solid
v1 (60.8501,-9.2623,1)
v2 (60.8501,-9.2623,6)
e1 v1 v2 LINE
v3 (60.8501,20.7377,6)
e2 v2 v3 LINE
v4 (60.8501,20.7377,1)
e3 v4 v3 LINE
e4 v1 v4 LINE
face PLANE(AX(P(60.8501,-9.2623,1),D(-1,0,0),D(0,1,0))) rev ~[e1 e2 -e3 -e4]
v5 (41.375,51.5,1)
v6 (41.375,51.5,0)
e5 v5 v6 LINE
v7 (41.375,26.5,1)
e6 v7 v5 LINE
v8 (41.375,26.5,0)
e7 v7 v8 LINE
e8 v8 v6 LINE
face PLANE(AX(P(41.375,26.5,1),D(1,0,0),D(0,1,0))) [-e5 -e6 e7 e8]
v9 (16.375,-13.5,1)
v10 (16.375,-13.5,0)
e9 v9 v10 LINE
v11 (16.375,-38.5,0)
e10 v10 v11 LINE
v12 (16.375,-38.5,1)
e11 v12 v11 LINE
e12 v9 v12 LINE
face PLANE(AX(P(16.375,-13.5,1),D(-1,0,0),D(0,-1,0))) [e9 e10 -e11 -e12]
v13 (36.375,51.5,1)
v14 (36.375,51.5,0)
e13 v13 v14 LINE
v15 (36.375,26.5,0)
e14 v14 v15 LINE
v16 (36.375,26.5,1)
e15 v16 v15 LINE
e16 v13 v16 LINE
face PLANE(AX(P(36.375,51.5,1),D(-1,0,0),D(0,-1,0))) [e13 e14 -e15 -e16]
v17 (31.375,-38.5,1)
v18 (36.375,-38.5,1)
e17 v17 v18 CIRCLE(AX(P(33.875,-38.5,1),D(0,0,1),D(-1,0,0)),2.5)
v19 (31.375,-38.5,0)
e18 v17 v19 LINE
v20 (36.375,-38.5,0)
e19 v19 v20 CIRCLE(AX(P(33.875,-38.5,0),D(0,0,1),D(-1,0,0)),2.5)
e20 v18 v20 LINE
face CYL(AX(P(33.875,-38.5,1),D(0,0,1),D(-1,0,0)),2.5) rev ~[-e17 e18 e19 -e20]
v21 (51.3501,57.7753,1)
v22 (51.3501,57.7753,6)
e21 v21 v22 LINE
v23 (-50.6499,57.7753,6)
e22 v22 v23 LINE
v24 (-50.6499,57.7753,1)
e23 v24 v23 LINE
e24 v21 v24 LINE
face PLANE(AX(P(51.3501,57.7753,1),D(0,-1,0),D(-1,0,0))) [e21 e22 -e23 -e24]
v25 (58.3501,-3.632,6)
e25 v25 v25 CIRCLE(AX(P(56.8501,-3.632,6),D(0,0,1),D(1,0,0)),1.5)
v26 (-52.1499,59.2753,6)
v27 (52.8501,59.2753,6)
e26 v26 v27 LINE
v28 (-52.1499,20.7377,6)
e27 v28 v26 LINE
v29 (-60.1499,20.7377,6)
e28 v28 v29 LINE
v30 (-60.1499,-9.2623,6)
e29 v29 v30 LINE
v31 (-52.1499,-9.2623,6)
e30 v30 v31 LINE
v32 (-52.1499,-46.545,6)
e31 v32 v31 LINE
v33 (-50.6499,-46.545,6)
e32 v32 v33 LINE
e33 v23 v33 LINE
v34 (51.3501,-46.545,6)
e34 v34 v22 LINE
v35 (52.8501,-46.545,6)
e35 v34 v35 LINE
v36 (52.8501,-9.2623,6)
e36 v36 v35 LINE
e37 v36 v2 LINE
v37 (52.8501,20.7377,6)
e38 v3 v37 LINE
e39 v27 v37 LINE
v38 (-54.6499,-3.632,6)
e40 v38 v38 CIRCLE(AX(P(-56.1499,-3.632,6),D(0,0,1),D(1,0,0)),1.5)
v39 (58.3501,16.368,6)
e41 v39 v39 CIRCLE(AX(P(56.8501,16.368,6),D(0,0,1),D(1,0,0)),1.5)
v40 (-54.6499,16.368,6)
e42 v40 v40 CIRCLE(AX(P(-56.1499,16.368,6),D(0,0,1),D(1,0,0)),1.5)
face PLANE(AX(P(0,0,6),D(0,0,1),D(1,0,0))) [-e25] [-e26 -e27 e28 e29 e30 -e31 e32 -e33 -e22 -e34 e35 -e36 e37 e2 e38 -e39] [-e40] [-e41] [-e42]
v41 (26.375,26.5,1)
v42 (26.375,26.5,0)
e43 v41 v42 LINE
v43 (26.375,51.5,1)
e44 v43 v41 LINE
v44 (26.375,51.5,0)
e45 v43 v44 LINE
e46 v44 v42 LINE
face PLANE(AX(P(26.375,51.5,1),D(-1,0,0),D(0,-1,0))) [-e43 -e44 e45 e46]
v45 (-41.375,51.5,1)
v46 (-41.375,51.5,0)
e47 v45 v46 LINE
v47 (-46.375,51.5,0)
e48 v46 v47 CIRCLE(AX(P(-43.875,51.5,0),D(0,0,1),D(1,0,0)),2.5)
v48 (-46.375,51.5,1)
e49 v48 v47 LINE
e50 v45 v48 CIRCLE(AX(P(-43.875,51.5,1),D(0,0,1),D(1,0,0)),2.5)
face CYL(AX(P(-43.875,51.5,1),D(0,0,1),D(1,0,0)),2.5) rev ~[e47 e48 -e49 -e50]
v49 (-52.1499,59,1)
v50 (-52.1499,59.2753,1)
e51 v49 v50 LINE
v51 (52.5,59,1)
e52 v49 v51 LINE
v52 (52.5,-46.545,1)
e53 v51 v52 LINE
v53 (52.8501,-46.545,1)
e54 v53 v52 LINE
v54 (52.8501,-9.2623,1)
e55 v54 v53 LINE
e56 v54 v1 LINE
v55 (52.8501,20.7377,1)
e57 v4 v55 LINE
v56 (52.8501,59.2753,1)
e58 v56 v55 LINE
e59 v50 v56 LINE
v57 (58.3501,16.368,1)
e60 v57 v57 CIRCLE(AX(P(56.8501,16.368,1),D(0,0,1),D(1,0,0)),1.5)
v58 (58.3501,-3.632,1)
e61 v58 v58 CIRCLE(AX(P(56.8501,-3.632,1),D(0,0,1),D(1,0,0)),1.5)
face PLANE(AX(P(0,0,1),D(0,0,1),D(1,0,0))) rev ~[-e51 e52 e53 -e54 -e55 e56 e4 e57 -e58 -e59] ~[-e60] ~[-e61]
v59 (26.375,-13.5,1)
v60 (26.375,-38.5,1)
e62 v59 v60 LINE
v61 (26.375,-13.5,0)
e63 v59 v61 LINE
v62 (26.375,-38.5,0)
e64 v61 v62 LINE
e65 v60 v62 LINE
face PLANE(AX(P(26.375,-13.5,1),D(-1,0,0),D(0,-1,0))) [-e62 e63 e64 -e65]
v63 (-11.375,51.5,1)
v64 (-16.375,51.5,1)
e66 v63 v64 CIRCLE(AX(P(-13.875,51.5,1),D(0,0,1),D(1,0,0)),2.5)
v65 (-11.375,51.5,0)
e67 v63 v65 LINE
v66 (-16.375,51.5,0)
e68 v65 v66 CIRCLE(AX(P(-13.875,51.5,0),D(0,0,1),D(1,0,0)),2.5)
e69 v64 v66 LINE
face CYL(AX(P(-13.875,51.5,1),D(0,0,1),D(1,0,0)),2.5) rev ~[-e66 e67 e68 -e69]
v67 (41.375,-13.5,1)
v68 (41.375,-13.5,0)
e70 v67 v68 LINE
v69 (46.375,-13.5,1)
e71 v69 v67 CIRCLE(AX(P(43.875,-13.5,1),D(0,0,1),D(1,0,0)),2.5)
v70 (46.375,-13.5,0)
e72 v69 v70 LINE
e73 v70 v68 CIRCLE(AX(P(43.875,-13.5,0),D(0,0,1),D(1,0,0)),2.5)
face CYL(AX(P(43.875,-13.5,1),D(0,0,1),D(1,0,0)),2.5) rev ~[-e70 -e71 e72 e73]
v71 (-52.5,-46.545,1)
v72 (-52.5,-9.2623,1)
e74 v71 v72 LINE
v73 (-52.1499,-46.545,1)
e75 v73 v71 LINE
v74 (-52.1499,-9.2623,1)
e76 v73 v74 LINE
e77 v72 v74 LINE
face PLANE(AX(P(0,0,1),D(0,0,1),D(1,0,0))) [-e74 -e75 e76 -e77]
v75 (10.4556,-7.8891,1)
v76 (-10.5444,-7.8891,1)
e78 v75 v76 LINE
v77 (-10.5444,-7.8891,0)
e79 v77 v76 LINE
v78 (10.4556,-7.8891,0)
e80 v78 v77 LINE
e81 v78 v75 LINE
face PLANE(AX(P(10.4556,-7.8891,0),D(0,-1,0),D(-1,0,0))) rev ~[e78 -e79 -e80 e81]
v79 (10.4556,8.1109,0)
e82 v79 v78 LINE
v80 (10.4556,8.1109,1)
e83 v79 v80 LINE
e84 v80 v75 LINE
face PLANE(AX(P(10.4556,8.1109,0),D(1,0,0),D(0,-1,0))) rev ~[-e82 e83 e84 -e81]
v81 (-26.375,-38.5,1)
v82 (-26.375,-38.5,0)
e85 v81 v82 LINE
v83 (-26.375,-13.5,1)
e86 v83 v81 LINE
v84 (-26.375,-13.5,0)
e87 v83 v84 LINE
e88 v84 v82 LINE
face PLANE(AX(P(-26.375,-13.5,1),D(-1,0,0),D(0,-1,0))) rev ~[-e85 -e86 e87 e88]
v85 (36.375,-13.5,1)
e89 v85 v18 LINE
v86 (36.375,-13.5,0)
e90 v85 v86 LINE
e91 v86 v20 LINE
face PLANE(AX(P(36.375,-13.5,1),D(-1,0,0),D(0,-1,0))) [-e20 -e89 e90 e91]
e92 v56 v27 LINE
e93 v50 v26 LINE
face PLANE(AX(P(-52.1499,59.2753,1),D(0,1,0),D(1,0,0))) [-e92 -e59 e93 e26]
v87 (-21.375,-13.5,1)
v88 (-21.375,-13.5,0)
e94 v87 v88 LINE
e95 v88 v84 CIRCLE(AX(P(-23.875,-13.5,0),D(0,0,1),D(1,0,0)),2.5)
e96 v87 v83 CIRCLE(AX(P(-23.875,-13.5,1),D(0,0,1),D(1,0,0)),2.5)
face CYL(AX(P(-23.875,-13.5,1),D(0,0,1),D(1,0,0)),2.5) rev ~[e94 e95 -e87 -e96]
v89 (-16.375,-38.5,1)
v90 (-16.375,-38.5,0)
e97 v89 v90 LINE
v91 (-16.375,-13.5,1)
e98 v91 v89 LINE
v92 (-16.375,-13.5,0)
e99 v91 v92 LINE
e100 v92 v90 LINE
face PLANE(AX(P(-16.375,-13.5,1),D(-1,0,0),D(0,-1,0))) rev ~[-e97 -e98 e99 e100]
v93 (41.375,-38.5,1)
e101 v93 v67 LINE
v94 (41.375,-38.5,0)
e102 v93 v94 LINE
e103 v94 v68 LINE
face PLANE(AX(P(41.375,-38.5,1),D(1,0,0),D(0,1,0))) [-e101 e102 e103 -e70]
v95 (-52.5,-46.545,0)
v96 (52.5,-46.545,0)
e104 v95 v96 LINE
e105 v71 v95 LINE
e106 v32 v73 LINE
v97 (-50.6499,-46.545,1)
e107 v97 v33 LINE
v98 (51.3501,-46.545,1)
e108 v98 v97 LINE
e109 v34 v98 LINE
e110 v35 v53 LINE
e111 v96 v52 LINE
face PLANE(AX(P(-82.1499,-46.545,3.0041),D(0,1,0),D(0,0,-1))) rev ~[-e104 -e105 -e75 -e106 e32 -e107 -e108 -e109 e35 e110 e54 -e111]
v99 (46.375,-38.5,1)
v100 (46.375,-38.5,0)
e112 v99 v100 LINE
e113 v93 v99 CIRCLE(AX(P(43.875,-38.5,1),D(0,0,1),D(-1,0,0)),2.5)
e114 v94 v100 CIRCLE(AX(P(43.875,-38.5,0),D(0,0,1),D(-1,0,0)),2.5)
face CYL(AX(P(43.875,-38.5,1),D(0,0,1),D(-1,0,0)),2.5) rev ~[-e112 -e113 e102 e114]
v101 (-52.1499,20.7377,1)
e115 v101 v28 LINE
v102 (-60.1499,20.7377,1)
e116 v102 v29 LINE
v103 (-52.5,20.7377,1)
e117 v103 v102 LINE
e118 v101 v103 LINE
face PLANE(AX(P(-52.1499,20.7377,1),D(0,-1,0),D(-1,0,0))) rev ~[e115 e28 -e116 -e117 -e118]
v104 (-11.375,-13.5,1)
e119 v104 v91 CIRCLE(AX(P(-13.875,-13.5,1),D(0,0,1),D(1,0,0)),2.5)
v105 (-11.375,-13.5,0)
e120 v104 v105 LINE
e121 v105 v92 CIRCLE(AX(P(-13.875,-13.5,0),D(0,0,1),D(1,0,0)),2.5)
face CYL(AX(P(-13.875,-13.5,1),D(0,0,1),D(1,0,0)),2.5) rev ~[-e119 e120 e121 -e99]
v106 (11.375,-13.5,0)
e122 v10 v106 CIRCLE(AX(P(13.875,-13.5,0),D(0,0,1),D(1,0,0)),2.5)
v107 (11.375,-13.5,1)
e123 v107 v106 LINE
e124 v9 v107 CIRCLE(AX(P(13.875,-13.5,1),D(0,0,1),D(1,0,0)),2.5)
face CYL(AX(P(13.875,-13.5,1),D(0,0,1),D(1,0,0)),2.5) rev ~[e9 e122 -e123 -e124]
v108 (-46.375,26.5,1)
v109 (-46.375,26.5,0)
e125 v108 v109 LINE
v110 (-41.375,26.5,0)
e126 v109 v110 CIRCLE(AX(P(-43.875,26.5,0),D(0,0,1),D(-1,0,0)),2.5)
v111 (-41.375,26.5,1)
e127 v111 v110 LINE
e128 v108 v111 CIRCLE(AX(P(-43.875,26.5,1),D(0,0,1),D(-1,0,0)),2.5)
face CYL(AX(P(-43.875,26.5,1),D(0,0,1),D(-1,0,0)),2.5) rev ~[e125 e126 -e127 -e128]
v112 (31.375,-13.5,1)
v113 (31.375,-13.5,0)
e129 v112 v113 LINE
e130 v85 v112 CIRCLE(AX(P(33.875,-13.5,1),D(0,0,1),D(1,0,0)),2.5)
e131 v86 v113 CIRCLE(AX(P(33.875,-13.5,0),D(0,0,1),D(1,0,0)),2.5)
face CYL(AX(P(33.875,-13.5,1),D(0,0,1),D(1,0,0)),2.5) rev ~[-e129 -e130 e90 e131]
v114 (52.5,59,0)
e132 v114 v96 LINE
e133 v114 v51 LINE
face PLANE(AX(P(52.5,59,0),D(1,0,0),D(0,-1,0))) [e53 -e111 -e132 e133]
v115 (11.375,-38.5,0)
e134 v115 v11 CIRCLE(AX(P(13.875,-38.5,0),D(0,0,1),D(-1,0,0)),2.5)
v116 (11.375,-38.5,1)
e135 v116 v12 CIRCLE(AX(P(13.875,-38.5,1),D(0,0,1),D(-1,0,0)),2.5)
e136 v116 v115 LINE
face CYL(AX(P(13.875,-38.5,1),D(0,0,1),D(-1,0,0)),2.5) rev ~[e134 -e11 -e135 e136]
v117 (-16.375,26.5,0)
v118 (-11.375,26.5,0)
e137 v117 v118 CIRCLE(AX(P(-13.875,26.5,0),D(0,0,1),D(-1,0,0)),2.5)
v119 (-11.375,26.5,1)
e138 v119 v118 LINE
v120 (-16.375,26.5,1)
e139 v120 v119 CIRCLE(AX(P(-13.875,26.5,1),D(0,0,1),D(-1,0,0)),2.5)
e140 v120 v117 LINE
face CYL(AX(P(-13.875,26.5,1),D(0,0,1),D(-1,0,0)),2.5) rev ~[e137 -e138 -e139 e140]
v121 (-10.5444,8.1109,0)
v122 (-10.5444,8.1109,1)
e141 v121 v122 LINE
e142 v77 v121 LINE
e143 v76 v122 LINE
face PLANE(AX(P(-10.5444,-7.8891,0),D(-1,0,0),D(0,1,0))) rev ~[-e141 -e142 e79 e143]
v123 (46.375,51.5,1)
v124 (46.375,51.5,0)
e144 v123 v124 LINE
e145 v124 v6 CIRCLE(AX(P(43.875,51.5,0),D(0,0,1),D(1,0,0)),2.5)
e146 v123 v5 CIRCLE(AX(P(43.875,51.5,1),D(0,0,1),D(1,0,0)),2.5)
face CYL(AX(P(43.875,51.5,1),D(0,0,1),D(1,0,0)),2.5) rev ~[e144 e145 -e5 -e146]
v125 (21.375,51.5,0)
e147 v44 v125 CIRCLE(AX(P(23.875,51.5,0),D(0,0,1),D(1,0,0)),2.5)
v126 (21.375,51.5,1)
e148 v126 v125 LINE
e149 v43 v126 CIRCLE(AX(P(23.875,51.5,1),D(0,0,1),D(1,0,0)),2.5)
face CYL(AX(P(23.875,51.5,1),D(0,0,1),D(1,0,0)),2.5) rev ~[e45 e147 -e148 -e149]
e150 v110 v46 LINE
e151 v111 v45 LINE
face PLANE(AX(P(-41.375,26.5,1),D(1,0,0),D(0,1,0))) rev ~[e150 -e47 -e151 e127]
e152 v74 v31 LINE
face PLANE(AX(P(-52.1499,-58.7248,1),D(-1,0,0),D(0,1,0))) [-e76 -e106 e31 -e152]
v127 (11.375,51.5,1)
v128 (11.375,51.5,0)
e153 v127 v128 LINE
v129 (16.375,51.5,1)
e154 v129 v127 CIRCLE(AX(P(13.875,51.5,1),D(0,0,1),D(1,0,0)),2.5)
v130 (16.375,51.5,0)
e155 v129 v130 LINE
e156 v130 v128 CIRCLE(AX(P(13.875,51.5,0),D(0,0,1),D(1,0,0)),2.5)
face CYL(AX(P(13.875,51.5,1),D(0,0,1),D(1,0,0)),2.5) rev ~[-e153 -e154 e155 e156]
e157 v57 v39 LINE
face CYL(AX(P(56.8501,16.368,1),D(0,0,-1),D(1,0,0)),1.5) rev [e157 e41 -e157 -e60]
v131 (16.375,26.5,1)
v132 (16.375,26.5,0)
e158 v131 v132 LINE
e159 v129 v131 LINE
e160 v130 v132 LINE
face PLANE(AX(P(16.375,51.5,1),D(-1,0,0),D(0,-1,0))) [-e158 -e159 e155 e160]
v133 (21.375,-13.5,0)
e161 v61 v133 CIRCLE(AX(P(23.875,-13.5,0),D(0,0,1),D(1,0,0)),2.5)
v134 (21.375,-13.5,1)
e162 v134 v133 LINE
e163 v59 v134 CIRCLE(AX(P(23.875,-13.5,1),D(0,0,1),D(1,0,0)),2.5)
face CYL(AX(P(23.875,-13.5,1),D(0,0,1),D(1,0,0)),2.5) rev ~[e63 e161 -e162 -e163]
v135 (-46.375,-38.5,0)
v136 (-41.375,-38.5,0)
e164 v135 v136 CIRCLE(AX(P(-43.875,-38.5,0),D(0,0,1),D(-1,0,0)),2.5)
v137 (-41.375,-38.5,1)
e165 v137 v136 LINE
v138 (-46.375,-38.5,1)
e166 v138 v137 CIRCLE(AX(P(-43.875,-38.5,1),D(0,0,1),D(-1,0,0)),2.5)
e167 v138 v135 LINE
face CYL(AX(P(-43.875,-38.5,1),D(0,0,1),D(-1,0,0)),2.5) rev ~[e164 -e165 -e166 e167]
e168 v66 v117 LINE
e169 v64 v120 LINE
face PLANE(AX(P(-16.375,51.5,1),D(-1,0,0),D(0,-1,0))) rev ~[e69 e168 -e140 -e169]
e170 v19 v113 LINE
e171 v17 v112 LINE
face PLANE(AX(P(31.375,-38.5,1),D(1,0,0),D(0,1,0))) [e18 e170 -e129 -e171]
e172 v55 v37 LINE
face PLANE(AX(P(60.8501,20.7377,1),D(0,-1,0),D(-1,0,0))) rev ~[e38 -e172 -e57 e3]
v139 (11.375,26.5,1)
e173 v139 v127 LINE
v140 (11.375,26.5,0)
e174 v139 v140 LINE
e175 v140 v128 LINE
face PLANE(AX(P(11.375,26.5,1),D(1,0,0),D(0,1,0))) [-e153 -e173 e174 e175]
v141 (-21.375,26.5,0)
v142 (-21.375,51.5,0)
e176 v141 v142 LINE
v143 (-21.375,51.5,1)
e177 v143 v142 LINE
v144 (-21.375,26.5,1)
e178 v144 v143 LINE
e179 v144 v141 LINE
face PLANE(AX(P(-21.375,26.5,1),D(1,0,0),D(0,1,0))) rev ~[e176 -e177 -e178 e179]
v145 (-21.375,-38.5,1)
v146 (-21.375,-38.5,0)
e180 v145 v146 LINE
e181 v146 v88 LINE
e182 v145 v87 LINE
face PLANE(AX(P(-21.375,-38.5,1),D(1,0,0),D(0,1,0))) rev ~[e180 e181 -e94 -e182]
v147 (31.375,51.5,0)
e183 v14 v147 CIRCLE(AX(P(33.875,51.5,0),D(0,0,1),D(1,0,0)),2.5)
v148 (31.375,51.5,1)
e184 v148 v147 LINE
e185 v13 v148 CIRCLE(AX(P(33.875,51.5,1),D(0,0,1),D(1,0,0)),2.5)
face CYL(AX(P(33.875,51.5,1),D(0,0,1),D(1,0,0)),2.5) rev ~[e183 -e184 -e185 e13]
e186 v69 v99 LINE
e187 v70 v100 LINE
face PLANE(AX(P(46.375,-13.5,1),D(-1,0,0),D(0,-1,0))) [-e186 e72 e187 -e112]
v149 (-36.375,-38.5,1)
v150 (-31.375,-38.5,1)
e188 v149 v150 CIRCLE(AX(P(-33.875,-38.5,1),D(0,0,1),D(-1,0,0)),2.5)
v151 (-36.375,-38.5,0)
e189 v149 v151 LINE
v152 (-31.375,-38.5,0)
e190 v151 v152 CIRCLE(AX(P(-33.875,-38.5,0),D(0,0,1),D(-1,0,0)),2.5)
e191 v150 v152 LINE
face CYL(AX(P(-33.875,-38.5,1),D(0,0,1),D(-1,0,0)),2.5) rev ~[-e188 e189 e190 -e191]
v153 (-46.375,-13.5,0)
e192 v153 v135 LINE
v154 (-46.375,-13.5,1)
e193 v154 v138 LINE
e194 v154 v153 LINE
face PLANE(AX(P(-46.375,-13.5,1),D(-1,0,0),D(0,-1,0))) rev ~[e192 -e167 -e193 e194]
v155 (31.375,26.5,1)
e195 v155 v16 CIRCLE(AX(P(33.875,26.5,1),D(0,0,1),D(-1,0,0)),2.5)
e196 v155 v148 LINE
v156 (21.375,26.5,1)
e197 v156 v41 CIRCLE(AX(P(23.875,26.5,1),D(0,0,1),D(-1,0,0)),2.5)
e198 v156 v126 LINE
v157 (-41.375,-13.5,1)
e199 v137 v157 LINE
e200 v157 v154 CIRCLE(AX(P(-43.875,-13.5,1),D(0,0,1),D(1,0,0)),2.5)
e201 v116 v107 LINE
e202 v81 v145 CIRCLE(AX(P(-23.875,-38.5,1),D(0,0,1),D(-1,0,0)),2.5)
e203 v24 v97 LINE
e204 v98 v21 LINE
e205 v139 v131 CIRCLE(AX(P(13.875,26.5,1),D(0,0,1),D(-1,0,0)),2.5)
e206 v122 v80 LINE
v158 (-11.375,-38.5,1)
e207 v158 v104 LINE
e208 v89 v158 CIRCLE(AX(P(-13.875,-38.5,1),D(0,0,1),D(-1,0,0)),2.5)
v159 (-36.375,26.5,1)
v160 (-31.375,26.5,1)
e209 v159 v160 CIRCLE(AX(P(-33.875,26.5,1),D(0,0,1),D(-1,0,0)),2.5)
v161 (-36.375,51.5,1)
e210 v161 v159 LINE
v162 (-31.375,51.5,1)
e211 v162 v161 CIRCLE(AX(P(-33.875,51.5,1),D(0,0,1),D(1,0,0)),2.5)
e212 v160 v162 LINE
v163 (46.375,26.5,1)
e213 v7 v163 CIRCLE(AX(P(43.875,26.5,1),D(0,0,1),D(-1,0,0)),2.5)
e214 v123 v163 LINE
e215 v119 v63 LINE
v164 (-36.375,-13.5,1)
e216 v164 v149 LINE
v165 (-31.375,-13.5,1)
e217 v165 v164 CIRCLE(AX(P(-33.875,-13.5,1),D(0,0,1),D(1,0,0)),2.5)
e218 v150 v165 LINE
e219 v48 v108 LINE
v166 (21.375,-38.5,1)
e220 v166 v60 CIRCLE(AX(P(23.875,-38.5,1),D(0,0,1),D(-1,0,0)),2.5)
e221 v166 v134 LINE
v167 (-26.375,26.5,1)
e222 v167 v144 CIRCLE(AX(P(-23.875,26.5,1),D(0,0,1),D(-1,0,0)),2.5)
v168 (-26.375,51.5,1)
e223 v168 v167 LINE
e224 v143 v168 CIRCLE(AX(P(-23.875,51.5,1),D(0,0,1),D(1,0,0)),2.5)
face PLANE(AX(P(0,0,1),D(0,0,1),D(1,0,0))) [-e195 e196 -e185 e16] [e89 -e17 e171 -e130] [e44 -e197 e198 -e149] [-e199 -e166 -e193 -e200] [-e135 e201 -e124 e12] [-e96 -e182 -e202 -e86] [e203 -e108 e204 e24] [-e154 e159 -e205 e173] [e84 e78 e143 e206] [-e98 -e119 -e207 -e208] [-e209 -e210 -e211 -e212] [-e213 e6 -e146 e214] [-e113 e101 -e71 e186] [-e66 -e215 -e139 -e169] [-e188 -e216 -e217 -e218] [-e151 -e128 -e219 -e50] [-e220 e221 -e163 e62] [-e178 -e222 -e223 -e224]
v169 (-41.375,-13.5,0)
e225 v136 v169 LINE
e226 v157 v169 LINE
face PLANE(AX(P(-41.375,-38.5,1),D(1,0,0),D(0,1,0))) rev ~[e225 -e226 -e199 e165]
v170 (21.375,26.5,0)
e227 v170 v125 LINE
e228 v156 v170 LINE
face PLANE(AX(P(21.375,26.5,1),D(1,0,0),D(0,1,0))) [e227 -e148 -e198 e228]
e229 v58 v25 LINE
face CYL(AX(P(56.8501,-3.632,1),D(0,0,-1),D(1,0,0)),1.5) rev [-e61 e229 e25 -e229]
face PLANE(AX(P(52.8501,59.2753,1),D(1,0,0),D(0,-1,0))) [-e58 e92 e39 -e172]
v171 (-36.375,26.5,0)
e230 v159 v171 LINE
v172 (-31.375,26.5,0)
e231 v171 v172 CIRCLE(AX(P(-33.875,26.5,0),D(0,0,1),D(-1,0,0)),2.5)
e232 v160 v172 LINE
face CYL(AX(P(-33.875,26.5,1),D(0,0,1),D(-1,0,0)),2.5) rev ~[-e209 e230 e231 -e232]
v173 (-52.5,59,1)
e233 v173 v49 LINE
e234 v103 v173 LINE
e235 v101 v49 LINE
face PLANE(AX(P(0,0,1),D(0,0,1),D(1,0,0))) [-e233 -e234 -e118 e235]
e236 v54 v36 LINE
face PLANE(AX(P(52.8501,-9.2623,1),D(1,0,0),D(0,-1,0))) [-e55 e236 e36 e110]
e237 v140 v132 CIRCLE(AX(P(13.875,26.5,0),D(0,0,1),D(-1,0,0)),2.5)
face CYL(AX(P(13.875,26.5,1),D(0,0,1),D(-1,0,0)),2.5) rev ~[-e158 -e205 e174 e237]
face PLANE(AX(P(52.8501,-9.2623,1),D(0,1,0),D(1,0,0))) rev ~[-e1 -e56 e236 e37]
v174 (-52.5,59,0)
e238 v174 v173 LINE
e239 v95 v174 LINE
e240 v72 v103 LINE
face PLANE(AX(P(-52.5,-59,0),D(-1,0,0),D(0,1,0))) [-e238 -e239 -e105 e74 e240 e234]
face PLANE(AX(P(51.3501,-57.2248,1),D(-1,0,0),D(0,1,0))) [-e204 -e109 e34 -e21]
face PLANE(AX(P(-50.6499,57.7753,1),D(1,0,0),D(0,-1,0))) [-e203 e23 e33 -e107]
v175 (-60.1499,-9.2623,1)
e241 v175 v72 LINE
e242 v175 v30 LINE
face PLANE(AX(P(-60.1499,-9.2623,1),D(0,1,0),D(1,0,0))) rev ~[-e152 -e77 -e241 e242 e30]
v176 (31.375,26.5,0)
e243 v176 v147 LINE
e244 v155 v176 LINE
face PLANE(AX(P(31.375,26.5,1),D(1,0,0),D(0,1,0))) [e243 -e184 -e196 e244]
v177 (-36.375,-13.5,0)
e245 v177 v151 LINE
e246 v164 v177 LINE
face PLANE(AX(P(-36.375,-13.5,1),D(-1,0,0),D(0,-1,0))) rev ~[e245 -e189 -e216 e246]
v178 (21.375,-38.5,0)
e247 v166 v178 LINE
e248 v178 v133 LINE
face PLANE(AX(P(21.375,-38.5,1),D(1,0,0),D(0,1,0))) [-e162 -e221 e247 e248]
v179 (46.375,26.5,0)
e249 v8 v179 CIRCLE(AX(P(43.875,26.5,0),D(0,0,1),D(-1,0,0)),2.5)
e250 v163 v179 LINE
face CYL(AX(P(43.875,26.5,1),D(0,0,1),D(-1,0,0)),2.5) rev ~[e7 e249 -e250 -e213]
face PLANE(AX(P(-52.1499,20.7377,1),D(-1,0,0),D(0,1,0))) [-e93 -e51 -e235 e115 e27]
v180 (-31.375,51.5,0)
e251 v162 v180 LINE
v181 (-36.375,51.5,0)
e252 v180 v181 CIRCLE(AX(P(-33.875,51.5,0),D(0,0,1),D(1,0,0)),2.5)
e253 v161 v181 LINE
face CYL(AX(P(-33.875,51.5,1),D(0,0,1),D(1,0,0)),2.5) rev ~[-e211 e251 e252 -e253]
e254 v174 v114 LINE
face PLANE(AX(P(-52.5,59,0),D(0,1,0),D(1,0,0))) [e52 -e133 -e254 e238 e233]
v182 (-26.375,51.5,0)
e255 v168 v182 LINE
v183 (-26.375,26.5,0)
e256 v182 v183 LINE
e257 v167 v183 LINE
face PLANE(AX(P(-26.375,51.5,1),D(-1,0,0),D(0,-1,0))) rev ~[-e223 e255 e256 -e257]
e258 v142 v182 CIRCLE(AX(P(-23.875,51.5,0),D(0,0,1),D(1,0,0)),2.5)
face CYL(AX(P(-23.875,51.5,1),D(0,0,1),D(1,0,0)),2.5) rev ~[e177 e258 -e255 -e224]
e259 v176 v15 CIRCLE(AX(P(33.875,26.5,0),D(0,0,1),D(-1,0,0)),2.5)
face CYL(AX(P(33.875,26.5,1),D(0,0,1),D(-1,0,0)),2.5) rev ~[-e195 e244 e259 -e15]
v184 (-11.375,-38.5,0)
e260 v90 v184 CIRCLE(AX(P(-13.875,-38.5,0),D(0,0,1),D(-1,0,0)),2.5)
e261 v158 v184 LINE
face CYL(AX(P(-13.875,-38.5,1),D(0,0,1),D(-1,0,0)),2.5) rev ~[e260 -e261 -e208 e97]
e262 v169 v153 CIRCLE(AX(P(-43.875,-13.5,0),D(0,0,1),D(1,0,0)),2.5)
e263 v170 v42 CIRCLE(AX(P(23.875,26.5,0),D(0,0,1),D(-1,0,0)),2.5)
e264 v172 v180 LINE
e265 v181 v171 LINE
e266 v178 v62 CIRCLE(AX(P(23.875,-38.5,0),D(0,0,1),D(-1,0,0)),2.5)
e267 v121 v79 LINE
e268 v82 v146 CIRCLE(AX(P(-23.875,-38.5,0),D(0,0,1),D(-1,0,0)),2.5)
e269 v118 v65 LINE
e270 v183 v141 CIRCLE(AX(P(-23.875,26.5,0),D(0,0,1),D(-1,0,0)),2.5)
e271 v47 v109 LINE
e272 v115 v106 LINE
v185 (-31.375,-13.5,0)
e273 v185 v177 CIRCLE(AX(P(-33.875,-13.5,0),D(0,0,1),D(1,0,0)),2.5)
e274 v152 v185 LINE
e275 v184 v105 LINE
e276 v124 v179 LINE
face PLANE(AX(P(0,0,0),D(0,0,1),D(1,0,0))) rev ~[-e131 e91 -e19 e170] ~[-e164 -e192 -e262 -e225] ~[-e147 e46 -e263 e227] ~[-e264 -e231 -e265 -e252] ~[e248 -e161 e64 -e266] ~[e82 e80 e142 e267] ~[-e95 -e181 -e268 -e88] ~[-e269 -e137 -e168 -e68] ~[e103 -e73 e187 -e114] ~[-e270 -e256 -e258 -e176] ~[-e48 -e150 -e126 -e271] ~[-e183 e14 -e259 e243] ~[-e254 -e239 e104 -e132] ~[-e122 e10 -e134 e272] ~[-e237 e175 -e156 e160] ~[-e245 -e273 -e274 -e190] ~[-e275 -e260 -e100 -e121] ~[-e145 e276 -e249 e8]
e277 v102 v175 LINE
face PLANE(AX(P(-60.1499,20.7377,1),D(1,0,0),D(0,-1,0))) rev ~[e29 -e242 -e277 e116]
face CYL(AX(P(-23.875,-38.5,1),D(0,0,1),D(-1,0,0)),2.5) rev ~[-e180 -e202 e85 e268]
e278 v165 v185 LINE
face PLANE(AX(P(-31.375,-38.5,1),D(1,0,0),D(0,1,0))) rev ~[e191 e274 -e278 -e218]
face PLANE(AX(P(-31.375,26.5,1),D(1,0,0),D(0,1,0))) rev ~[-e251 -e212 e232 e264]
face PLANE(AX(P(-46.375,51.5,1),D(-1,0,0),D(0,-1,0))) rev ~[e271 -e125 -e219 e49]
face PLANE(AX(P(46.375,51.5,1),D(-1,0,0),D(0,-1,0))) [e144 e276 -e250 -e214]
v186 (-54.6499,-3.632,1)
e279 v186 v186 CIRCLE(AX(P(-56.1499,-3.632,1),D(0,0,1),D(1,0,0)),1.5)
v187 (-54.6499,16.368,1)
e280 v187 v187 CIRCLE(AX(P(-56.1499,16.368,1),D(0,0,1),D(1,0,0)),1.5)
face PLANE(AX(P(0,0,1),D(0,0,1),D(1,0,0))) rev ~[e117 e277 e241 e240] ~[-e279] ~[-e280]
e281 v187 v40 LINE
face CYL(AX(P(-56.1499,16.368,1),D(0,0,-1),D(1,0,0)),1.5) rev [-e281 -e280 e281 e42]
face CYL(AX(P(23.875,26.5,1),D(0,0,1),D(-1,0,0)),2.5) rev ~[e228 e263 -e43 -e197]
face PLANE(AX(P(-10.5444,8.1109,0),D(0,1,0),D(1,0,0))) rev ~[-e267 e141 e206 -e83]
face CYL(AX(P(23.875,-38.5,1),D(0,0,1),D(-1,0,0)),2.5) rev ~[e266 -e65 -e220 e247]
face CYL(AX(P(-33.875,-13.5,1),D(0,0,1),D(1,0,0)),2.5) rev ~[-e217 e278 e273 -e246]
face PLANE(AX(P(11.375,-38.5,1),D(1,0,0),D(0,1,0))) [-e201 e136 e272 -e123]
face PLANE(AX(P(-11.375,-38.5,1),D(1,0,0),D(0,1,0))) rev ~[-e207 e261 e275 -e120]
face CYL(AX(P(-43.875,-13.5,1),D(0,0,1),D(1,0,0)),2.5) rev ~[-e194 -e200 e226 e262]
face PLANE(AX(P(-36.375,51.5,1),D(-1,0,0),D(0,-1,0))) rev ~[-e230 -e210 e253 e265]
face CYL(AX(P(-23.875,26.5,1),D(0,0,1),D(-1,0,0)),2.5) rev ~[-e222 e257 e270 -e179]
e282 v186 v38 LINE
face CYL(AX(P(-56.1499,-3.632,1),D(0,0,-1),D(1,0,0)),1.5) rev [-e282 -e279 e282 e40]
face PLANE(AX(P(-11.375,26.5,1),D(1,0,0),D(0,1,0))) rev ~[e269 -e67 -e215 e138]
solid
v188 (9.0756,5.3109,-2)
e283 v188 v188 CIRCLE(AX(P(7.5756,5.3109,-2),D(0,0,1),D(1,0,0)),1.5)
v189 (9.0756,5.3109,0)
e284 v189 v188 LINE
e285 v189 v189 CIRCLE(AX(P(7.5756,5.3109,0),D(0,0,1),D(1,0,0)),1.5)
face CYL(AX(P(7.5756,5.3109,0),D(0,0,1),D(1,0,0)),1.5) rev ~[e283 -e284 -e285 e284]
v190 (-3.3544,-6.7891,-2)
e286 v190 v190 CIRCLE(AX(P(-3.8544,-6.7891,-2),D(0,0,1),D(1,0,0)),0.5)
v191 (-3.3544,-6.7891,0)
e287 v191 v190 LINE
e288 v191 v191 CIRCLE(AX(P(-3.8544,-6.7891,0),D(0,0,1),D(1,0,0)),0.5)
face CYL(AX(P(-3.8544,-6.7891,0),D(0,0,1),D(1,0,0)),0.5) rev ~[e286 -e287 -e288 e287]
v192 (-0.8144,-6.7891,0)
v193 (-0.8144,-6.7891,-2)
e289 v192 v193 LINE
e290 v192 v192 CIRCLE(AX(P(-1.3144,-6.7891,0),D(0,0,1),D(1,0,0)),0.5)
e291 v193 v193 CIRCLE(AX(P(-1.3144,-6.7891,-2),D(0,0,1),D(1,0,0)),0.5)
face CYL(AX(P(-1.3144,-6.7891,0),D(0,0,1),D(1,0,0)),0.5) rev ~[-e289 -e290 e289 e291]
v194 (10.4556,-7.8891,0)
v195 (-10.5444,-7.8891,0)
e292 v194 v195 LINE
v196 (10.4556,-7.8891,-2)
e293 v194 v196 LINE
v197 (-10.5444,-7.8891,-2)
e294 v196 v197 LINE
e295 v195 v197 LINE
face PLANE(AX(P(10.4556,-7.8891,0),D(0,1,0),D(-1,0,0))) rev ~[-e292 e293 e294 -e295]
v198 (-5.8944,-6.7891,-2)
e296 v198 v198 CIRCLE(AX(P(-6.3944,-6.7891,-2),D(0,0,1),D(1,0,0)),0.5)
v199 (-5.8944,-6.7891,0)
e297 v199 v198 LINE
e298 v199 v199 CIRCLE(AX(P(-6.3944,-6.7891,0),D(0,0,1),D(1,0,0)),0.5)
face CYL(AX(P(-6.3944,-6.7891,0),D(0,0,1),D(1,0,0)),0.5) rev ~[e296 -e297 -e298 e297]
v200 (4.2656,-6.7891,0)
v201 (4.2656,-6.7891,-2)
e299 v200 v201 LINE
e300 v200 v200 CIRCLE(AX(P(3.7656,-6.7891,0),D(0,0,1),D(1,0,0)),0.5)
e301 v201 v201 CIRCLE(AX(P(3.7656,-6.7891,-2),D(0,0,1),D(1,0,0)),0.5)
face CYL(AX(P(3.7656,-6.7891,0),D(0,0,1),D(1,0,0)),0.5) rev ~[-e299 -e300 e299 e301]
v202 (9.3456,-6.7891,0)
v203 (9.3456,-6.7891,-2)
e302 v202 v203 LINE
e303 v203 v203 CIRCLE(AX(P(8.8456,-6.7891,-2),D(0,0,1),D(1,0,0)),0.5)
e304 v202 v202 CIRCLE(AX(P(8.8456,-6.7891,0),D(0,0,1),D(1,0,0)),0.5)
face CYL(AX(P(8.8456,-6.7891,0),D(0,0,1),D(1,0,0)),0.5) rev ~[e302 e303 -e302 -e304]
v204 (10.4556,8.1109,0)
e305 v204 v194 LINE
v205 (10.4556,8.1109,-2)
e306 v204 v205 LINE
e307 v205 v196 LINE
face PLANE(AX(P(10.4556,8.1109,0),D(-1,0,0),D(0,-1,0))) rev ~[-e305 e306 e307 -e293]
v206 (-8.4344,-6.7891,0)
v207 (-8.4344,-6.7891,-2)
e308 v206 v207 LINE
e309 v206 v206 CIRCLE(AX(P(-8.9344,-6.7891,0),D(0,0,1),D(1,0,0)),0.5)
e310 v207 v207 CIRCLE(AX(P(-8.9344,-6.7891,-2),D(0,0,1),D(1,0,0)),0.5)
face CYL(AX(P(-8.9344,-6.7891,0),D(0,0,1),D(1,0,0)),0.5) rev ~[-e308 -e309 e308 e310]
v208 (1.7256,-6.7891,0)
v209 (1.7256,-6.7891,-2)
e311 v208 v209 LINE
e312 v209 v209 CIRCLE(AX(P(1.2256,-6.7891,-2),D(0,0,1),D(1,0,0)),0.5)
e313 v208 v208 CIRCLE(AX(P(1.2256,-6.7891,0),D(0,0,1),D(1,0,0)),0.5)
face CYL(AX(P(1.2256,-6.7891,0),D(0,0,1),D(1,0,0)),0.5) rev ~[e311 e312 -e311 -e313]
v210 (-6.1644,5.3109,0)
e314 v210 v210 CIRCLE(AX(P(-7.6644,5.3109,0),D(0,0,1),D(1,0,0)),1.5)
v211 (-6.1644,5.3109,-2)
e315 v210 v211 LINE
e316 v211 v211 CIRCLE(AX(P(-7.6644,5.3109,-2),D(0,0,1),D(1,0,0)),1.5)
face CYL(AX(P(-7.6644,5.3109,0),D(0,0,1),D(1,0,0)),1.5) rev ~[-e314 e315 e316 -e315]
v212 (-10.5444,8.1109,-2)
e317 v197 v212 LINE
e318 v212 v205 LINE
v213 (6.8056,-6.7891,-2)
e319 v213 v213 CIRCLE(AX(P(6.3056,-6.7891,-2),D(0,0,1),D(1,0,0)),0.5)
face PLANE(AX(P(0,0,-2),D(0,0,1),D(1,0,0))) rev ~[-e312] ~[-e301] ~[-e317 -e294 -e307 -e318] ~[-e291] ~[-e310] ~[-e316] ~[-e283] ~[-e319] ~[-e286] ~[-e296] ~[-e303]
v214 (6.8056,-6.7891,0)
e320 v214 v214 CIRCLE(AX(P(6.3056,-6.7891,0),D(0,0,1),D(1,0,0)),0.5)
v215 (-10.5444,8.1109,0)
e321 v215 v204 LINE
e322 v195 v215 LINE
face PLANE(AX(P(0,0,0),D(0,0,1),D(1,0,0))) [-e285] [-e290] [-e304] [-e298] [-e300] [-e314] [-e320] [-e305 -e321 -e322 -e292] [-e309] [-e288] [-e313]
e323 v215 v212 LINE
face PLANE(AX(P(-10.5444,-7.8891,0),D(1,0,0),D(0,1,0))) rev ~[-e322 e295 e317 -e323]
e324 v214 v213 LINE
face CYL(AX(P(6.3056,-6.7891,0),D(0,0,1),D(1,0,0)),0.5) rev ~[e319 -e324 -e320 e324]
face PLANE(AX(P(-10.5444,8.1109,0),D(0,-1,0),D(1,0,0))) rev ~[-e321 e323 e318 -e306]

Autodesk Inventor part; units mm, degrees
ref_plane "YZ Plane" through (0, 0, 0) normal (1, 0, 0) x (0, 1, 0)
ref_plane "XZ Plane" through (0, 0, 0) normal (0, 1, 0) x (-1, 0, 0)
sketch "Sketch1" plane through (0, 0, 0) normal (0, 0, 1) x (1, 0, 0)
  line L0 (10.4556, 8.1109) -> (10.4556, -7.8891)
  line L1 (-10.5444, 8.1109) -> (10.4556, 8.1109)
  line L2 (-10.5444, -7.8891) -> (-10.5444, 8.1109)
  line L3 (10.4556, -7.8891) -> (-10.5444, -7.8891)
  circle A0 centre (-7.6644, 5.3109) radius 1.5
  circle A1 centre (7.5756, 5.3109) radius 1.5
  circle A2 centre (-8.9344, -6.7891) radius 0.5
  circle A3 centre (-6.3944, -6.7891) radius 0.5
  circle A4 centre (-3.8544, -6.7891) radius 0.5
  circle A5 centre (-1.3144, -6.7891) radius 0.5
  circle A6 centre (1.2256, -6.7891) radius 0.5
  circle A7 centre (3.7656, -6.7891) radius 0.5
  circle A8 centre (6.3056, -6.7891) radius 0.5
  circle A9 centre (8.8456, -6.7891) radius 0.5
  line L4 (12.4556, -9.8891) -> (12.4556, 10.1109)
  line L5 (12.4556, 10.1109) -> (-12.5444, 10.1109)
  line L6 (-12.5444, 10.1109) -> (-12.5444, -9.8891)
  line L7 (-12.5444, -9.8891) -> (12.4556, -9.8891)
  circle A10 centre (7.5756, 5.3109) radius 1.5
  circle A11 centre (-7.6644, 5.3109) radius 1.5
  point P0 (0, 0)
  point P1 (-0.0444, 0.1109)
  dimension "d0" = 2
  dimension "d1" = 15.24
extrude "Extrusion1" add sketch "Sketch1" against normal blind 2 contours L0 L3 L2 L1
extrude "Extrusion2" add sketch "Sketch1" along normal blind 1 contours L7 L6 L5 L4
sketch "Sketch2" plane through (0, 0, 0) normal (0, 0, 1) x (1, 0, 0)
  line L0 (12.4556, 10.1109) -> (-12.5444, 10.1109) projected
  line L1 (-12.5444, 10.1109) -> (-12.5444, -9.8891) projected
  line L2 (-12.5444, -9.8891) -> (12.4556, -9.8891) projected
  line L3 (12.4556, -9.8891) -> (12.4556, 10.1109) projected
  line L4 (52.5, -59) -> (-52.5, -59)
  line L5 (-52.5, -59) -> (-52.5, 59)
  line L6 (-52.5, 59) -> (52.5, 59)
  line L7 (52.5, 59) -> (52.5, -59)
  line L8 (52.5, -59) -> (-52.5, 59) construction
  line L9 (-52.5, -59) -> (52.5, 59) construction
  point P0 (0, 0)
  dimension "d6" = 118
  dimension "d7" = 105
extrude "Extrusion3" add sketch "Sketch2" along normal blind 1
sketch "Sketch7" plane through (0, 0, 1) normal (0, 0, 1) x (1, 0, 0)
  point P0 (0, 0)
sketch "Sketch8" plane through (0, 0, 1) normal (0, 0, 1) x (1, 0, 0)
  point P0 (0, 0)
sketch "Sketch9" plane through (0, 0, 1) normal (0, 0, 1) x (1, 0, 0)
  line L0 (43.875, 51.5) -> (43.875, 26.5) construction
  line L1 (46.375, 51.5) -> (46.375, 26.5)
  line L2 (41.375, 26.5) -> (41.375, 51.5)
  arc A0 (46.375, 51.5) -> (41.375, 51.5) centre (43.875, 51.5) ccw
  arc A1 (41.375, 26.5) -> (46.375, 26.5) centre (43.875, 26.5) ccw
  line L3 (52.5, 69) -> (-52.5, 69)
  line L4 (52.5, 69) -> (52.5, -49.0201)
  line L5 (36.375, 51.5) -> (36.375, 26.5)
  arc A2 (36.375, 51.5) -> (31.375, 51.5) centre (33.875, 51.5) ccw
  line L6 (31.375, 26.5) -> (31.375, 51.5)
  arc A3 (31.375, 26.5) -> (36.375, 26.5) centre (33.875, 26.5) ccw
  line L7 (33.875, 51.5) -> (33.875, 26.5) construction
  line L8 (26.375, 51.5) -> (26.375, 26.5)
  arc A4 (26.375, 51.5) -> (21.375, 51.5) centre (23.875, 51.5) ccw
  line L9 (21.375, 26.5) -> (21.375, 51.5)
  arc A5 (21.375, 26.5) -> (26.375, 26.5) centre (23.875, 26.5) ccw
  line L10 (23.875, 51.5) -> (23.875, 26.5) construction
  line L11 (16.375, 51.5) -> (16.375, 26.5)
  arc A6 (16.375, 51.5) -> (11.375, 51.5) centre (13.875, 51.5) ccw
  line L12 (11.375, 26.5) -> (11.375, 51.5)
  arc A7 (11.375, 26.5) -> (16.375, 26.5) centre (13.875, 26.5) ccw
  line L13 (13.875, 51.5) -> (13.875, 26.5) construction
  line L14 (46.375, -13.5) -> (46.375, -38.5)
  arc A8 (46.375, -13.5) -> (41.375, -13.5) centre (43.875, -13.5) ccw
  line L15 (41.375, -38.5) -> (41.375, -13.5)
  arc A9 (41.375, -38.5) -> (46.375, -38.5) centre (43.875, -38.5) ccw
  line L16 (43.875, -13.5) -> (43.875, -38.5) construction
  line L17 (36.375, -13.5) -> (36.375, -38.5)
  arc A10 (36.375, -13.5) -> (31.375, -13.5) centre (33.875, -13.5) ccw
  line L18 (31.375, -38.5) -> (31.375, -13.5)
  arc A11 (31.375, -38.5) -> (36.375, -38.5) centre (33.875, -38.5) ccw
  line L19 (33.875, -13.5) -> (33.875, -38.5) construction
  line L20 (26.375, -13.5) -> (26.375, -38.5)
  arc A12 (26.375, -13.5) -> (21.375, -13.5) centre (23.875, -13.5) ccw
  line L21 (21.375, -38.5) -> (21.375, -13.5)
  arc A13 (21.375, -38.5) -> (26.375, -38.5) centre (23.875, -38.5) ccw
  line L22 (23.875, -13.5) -> (23.875, -38.5) construction
  line L23 (16.375, -13.5) -> (16.375, -38.5)
  arc A14 (16.375, -13.5) -> (11.375, -13.5) centre (13.875, -13.5) ccw
  line L24 (11.375, -38.5) -> (11.375, -13.5)
  arc A15 (11.375, -38.5) -> (16.375, -38.5) centre (13.875, -38.5) ccw
  line L25 (13.875, -13.5) -> (13.875, -38.5) construction
  line L26 (0, 69) -> (0, -59)
  line L27 (-52.5, -59) -> (52.5, -59) projected
  line L28 (-43.875, 51.5) -> (-43.875, 26.5) construction
  line L29 (-46.375, 51.5) -> (-46.375, 26.5)
  line L30 (-41.375, 26.5) -> (-41.375, 51.5)
  arc A16 (-41.375, 51.5) -> (-46.375, 51.5) centre (-43.875, 51.5) ccw
  arc A17 (-46.375, 26.5) -> (-41.375, 26.5) centre (-43.875, 26.5) ccw
  line L31 (-36.375, 51.5) -> (-36.375, 26.5)
  arc A18 (-31.375, 51.5) -> (-36.375, 51.5) centre (-33.875, 51.5) ccw
  line L32 (-31.375, 26.5) -> (-31.375, 51.5)
  arc A19 (-36.375, 26.5) -> (-31.375, 26.5) centre (-33.875, 26.5) ccw
  line L33 (-33.875, 51.5) -> (-33.875, 26.5) construction
  line L34 (-26.375, 51.5) -> (-26.375, 26.5)
  arc A20 (-21.375, 51.5) -> (-26.375, 51.5) centre (-23.875, 51.5) ccw
  line L35 (-21.375, 26.5) -> (-21.375, 51.5)
  arc A21 (-26.375, 26.5) -> (-21.375, 26.5) centre (-23.875, 26.5) ccw
  line L36 (-23.875, 51.5) -> (-23.875, 26.5) construction
  line L37 (-16.375, 51.5) -> (-16.375, 26.5)
  arc A22 (-11.375, 51.5) -> (-16.375, 51.5) centre (-13.875, 51.5) ccw
  line L38 (-11.375, 26.5) -> (-11.375, 51.5)
  arc A23 (-16.375, 26.5) -> (-11.375, 26.5) centre (-13.875, 26.5) ccw
  line L39 (-13.875, 51.5) -> (-13.875, 26.5) construction
  line L40 (-46.375, -13.5) -> (-46.375, -38.5)
  arc A24 (-41.375, -13.5) -> (-46.375, -13.5) centre (-43.875, -13.5) ccw
  line L41 (-41.375, -38.5) -> (-41.375, -13.5)
  arc A25 (-46.375, -38.5) -> (-41.375, -38.5) centre (-43.875, -38.5) ccw
  line L42 (-43.875, -13.5) -> (-43.875, -38.5) construction
  line L43 (-36.375, -13.5) -> (-36.375, -38.5)
  arc A26 (-31.375, -13.5) -> (-36.375, -13.5) centre (-33.875, -13.5) ccw
  line L44 (-31.375, -38.5) -> (-31.375, -13.5)
  arc A27 (-36.375, -38.5) -> (-31.375, -38.5) centre (-33.875, -38.5) ccw
  line L45 (-33.875, -13.5) -> (-33.875, -38.5) construction
  line L46 (-26.375, -13.5) -> (-26.375, -38.5)
  arc A28 (-21.375, -13.5) -> (-26.375, -13.5) centre (-23.875, -13.5) ccw
  line L47 (-21.375, -38.5) -> (-21.375, -13.5)
  arc A29 (-26.375, -38.5) -> (-21.375, -38.5) centre (-23.875, -38.5) ccw
  line L48 (-23.875, -13.5) -> (-23.875, -38.5) construction
  line L49 (-16.375, -13.5) -> (-16.375, -38.5)
  arc A30 (-11.375, -13.5) -> (-16.375, -13.5) centre (-13.875, -13.5) ccw
  line L50 (-11.375, -38.5) -> (-11.375, -13.5)
  arc A31 (-16.375, -38.5) -> (-11.375, -38.5) centre (-13.875, -38.5) ccw
  line L51 (-13.875, -13.5) -> (-13.875, -38.5) construction
  line L52 (52.5, 59) -> (-52.5, 59) projected
  point P0 (0, 0)
  point P1 (43.875, 39)
  point P2 (33.875, 39)
  point P3 (23.875, 39)
  point P4 (13.875, 39)
  point P5 (43.875, -26)
  point P6 (33.875, -26)
  point P7 (23.875, -26)
  point P8 (13.875, -26)
  point P9 (-43.875, 39)
  point P10 (-33.875, 39)
  point P11 (-23.875, 39)
  point P12 (-13.875, 39)
  point P13 (-43.875, -26)
  point P14 (-33.875, -26)
  point P15 (-23.875, -26)
  point P16 (-13.875, -26)
  point P17 (33.875, 39)
  dimension "d23" = 5
  dimension "d25" = 25
  dimension "d28" = 10
  dimension "d31" = 65
  dimension "d46" = 20
extrude "Extrusion9" cut sketch "Sketch9" against normal blind 2 contours L1 A1 L2 A0 | L5 A3 L6 A2 | L8 A5 L9 A4 | L11 A7 L12 A6 | L14 A9 L15 A8 | L17 A11 L18 A10 | L20 A13 L21 A12 | L23 A15 L24 A14 | A16 L30 A17 L29 | A18 L32 A19 L31 | A20 L35 A21 L34 | A22 L38 A23 L37 | A24 L41 A25 L40 | A26 L44 A27 L43 | A28 L47 A29 L46 | A30 L50 A31 L49
sketch "Sketch10" plane through (0, 0, 1) normal (0, 0, 1) x (1, 0, 0)
  circle A0 centre (56.8501, -3.632) radius 1.5
  circle A1 centre (-56.1499, 16.368) radius 1.5
  circle A2 centre (56.8501, 16.368) radius 1.5
  circle A3 centre (-56.1499, -3.632) radius 1.5
  line L0 (52.8501, 59.2753) -> (52.8501, 20.7377)
  line L1 (-52.1499, 59.2753) -> (52.8501, 59.2753)
  line L2 (-52.1499, 20.7377) -> (-52.1499, 59.2753)
  line L3 (-52.1499, 20.7377) -> (-60.1499, 20.7377)
  line L4 (-60.1499, 20.7377) -> (-60.1499, -9.2623)
  line L5 (-60.1499, -9.2623) -> (-52.1499, -9.2623)
  line L6 (-52.1499, -58.7248) -> (-52.1499, -9.2623)
  line L7 (52.8501, -58.7248) -> (-52.1499, -58.7248)
  line L8 (52.8501, -9.2623) -> (52.8501, -58.7248)
  line L9 (52.8501, -9.2623) -> (60.8501, -9.2623)
  line L10 (60.8501, -9.2623) -> (60.8501, 20.7377)
  line L11 (60.8501, 20.7377) -> (52.8501, 20.7377)
  line L12 (51.3501, -57.2248) -> (51.3501, 57.7753)
  line L13 (-50.6499, -57.2248) -> (51.3501, -57.2248)
  line L14 (-50.6499, 57.7753) -> (-50.6499, -57.2248)
  line L15 (51.3501, 57.7753) -> (-50.6499, 57.7753)
  line L16 (60.8774, 20.7651) -> (60.8774, -9.2896)
  line L17 (60.8774, -9.2896) -> (52.8774, -9.2896)
  line L18 (52.8774, -9.2896) -> (52.8774, -58.7521)
  line L19 (52.8774, -58.7521) -> (-52.1773, -58.7521)
  line L20 (-52.1773, -58.7521) -> (-52.1773, -9.2896)
  line L21 (-52.1773, -9.2896) -> (-60.1773, -9.2896)
  line L22 (-60.1773, -9.2896) -> (-60.1773, 20.7651)
  line L23 (-60.1773, 20.7651) -> (-52.1773, 20.7651)
  line L24 (-52.1773, 20.7651) -> (-52.1773, 59.3026)
  line L25 (-52.1773, 59.3026) -> (52.8774, 59.3026)
  line L26 (52.8774, 59.3026) -> (52.8774, 20.7651)
  line L27 (52.8774, 20.7651) -> (60.8774, 20.7651)
  point P0 (0, 0)
  point P1 (0.3501, 0.2752)
extrude "Extrusion10" add sketch "Sketch10" along normal blind 5 contours L0 L11 L10 L9 L8 L7 L6 L5 L4 L3 L2 L1
ref_plane "Work Plane2" through (-82.1499, -58.7248, 1) normal (-1, 0, 0) x (0, 0, 1)
sketch "Sketch11" plane through (-82.1499, -58.7248, 1) normal (-1, 0, 0) x (0, 0, 1)
  line L0 (-1, -0.2752) -> (2.0041, -0.2752)
  line L1 (2.0041, -0.2752) -> (2.0041, 12.1798)
  line L2 (2.0041, 12.1798) -> (-1, 12.1798)
  line L3 (-1, 12.1798) -> (-1, -0.2752)
  line L4 (-1, -0.2752) -> (0, -0.2752) projected
  point P0 (-1, 58.7248)
  dimension "d43" = 12.455
extrude "Extrusion11" cut sketch "Sketch11" against normal blind 1000
sketch "Sketch12" plane through (-52.1499, -58.7248, 6) normal (-1, 0, 0) x (0, 0, 1)
  line L0 (-2.9959, 12.1798) -> (-5, 12.1798) projected
  line L1 (0, 0) -> (0, 49.4625) projected
  line L2 (-2.9959, 12.1798) -> (0, 12.1798)
  line L3 (0, 12.1798) -> (0, 0)
  line L4 (0, 0) -> (-2.9959, 0)
  line L5 (-2.9959, 0) -> (-2.9959, 12.1798)
  point P0 (-6, 58.7248)
extrude "Extrusion12" cut sketch "Sketch12" against normal blind 500
properties part number "imuholder"
